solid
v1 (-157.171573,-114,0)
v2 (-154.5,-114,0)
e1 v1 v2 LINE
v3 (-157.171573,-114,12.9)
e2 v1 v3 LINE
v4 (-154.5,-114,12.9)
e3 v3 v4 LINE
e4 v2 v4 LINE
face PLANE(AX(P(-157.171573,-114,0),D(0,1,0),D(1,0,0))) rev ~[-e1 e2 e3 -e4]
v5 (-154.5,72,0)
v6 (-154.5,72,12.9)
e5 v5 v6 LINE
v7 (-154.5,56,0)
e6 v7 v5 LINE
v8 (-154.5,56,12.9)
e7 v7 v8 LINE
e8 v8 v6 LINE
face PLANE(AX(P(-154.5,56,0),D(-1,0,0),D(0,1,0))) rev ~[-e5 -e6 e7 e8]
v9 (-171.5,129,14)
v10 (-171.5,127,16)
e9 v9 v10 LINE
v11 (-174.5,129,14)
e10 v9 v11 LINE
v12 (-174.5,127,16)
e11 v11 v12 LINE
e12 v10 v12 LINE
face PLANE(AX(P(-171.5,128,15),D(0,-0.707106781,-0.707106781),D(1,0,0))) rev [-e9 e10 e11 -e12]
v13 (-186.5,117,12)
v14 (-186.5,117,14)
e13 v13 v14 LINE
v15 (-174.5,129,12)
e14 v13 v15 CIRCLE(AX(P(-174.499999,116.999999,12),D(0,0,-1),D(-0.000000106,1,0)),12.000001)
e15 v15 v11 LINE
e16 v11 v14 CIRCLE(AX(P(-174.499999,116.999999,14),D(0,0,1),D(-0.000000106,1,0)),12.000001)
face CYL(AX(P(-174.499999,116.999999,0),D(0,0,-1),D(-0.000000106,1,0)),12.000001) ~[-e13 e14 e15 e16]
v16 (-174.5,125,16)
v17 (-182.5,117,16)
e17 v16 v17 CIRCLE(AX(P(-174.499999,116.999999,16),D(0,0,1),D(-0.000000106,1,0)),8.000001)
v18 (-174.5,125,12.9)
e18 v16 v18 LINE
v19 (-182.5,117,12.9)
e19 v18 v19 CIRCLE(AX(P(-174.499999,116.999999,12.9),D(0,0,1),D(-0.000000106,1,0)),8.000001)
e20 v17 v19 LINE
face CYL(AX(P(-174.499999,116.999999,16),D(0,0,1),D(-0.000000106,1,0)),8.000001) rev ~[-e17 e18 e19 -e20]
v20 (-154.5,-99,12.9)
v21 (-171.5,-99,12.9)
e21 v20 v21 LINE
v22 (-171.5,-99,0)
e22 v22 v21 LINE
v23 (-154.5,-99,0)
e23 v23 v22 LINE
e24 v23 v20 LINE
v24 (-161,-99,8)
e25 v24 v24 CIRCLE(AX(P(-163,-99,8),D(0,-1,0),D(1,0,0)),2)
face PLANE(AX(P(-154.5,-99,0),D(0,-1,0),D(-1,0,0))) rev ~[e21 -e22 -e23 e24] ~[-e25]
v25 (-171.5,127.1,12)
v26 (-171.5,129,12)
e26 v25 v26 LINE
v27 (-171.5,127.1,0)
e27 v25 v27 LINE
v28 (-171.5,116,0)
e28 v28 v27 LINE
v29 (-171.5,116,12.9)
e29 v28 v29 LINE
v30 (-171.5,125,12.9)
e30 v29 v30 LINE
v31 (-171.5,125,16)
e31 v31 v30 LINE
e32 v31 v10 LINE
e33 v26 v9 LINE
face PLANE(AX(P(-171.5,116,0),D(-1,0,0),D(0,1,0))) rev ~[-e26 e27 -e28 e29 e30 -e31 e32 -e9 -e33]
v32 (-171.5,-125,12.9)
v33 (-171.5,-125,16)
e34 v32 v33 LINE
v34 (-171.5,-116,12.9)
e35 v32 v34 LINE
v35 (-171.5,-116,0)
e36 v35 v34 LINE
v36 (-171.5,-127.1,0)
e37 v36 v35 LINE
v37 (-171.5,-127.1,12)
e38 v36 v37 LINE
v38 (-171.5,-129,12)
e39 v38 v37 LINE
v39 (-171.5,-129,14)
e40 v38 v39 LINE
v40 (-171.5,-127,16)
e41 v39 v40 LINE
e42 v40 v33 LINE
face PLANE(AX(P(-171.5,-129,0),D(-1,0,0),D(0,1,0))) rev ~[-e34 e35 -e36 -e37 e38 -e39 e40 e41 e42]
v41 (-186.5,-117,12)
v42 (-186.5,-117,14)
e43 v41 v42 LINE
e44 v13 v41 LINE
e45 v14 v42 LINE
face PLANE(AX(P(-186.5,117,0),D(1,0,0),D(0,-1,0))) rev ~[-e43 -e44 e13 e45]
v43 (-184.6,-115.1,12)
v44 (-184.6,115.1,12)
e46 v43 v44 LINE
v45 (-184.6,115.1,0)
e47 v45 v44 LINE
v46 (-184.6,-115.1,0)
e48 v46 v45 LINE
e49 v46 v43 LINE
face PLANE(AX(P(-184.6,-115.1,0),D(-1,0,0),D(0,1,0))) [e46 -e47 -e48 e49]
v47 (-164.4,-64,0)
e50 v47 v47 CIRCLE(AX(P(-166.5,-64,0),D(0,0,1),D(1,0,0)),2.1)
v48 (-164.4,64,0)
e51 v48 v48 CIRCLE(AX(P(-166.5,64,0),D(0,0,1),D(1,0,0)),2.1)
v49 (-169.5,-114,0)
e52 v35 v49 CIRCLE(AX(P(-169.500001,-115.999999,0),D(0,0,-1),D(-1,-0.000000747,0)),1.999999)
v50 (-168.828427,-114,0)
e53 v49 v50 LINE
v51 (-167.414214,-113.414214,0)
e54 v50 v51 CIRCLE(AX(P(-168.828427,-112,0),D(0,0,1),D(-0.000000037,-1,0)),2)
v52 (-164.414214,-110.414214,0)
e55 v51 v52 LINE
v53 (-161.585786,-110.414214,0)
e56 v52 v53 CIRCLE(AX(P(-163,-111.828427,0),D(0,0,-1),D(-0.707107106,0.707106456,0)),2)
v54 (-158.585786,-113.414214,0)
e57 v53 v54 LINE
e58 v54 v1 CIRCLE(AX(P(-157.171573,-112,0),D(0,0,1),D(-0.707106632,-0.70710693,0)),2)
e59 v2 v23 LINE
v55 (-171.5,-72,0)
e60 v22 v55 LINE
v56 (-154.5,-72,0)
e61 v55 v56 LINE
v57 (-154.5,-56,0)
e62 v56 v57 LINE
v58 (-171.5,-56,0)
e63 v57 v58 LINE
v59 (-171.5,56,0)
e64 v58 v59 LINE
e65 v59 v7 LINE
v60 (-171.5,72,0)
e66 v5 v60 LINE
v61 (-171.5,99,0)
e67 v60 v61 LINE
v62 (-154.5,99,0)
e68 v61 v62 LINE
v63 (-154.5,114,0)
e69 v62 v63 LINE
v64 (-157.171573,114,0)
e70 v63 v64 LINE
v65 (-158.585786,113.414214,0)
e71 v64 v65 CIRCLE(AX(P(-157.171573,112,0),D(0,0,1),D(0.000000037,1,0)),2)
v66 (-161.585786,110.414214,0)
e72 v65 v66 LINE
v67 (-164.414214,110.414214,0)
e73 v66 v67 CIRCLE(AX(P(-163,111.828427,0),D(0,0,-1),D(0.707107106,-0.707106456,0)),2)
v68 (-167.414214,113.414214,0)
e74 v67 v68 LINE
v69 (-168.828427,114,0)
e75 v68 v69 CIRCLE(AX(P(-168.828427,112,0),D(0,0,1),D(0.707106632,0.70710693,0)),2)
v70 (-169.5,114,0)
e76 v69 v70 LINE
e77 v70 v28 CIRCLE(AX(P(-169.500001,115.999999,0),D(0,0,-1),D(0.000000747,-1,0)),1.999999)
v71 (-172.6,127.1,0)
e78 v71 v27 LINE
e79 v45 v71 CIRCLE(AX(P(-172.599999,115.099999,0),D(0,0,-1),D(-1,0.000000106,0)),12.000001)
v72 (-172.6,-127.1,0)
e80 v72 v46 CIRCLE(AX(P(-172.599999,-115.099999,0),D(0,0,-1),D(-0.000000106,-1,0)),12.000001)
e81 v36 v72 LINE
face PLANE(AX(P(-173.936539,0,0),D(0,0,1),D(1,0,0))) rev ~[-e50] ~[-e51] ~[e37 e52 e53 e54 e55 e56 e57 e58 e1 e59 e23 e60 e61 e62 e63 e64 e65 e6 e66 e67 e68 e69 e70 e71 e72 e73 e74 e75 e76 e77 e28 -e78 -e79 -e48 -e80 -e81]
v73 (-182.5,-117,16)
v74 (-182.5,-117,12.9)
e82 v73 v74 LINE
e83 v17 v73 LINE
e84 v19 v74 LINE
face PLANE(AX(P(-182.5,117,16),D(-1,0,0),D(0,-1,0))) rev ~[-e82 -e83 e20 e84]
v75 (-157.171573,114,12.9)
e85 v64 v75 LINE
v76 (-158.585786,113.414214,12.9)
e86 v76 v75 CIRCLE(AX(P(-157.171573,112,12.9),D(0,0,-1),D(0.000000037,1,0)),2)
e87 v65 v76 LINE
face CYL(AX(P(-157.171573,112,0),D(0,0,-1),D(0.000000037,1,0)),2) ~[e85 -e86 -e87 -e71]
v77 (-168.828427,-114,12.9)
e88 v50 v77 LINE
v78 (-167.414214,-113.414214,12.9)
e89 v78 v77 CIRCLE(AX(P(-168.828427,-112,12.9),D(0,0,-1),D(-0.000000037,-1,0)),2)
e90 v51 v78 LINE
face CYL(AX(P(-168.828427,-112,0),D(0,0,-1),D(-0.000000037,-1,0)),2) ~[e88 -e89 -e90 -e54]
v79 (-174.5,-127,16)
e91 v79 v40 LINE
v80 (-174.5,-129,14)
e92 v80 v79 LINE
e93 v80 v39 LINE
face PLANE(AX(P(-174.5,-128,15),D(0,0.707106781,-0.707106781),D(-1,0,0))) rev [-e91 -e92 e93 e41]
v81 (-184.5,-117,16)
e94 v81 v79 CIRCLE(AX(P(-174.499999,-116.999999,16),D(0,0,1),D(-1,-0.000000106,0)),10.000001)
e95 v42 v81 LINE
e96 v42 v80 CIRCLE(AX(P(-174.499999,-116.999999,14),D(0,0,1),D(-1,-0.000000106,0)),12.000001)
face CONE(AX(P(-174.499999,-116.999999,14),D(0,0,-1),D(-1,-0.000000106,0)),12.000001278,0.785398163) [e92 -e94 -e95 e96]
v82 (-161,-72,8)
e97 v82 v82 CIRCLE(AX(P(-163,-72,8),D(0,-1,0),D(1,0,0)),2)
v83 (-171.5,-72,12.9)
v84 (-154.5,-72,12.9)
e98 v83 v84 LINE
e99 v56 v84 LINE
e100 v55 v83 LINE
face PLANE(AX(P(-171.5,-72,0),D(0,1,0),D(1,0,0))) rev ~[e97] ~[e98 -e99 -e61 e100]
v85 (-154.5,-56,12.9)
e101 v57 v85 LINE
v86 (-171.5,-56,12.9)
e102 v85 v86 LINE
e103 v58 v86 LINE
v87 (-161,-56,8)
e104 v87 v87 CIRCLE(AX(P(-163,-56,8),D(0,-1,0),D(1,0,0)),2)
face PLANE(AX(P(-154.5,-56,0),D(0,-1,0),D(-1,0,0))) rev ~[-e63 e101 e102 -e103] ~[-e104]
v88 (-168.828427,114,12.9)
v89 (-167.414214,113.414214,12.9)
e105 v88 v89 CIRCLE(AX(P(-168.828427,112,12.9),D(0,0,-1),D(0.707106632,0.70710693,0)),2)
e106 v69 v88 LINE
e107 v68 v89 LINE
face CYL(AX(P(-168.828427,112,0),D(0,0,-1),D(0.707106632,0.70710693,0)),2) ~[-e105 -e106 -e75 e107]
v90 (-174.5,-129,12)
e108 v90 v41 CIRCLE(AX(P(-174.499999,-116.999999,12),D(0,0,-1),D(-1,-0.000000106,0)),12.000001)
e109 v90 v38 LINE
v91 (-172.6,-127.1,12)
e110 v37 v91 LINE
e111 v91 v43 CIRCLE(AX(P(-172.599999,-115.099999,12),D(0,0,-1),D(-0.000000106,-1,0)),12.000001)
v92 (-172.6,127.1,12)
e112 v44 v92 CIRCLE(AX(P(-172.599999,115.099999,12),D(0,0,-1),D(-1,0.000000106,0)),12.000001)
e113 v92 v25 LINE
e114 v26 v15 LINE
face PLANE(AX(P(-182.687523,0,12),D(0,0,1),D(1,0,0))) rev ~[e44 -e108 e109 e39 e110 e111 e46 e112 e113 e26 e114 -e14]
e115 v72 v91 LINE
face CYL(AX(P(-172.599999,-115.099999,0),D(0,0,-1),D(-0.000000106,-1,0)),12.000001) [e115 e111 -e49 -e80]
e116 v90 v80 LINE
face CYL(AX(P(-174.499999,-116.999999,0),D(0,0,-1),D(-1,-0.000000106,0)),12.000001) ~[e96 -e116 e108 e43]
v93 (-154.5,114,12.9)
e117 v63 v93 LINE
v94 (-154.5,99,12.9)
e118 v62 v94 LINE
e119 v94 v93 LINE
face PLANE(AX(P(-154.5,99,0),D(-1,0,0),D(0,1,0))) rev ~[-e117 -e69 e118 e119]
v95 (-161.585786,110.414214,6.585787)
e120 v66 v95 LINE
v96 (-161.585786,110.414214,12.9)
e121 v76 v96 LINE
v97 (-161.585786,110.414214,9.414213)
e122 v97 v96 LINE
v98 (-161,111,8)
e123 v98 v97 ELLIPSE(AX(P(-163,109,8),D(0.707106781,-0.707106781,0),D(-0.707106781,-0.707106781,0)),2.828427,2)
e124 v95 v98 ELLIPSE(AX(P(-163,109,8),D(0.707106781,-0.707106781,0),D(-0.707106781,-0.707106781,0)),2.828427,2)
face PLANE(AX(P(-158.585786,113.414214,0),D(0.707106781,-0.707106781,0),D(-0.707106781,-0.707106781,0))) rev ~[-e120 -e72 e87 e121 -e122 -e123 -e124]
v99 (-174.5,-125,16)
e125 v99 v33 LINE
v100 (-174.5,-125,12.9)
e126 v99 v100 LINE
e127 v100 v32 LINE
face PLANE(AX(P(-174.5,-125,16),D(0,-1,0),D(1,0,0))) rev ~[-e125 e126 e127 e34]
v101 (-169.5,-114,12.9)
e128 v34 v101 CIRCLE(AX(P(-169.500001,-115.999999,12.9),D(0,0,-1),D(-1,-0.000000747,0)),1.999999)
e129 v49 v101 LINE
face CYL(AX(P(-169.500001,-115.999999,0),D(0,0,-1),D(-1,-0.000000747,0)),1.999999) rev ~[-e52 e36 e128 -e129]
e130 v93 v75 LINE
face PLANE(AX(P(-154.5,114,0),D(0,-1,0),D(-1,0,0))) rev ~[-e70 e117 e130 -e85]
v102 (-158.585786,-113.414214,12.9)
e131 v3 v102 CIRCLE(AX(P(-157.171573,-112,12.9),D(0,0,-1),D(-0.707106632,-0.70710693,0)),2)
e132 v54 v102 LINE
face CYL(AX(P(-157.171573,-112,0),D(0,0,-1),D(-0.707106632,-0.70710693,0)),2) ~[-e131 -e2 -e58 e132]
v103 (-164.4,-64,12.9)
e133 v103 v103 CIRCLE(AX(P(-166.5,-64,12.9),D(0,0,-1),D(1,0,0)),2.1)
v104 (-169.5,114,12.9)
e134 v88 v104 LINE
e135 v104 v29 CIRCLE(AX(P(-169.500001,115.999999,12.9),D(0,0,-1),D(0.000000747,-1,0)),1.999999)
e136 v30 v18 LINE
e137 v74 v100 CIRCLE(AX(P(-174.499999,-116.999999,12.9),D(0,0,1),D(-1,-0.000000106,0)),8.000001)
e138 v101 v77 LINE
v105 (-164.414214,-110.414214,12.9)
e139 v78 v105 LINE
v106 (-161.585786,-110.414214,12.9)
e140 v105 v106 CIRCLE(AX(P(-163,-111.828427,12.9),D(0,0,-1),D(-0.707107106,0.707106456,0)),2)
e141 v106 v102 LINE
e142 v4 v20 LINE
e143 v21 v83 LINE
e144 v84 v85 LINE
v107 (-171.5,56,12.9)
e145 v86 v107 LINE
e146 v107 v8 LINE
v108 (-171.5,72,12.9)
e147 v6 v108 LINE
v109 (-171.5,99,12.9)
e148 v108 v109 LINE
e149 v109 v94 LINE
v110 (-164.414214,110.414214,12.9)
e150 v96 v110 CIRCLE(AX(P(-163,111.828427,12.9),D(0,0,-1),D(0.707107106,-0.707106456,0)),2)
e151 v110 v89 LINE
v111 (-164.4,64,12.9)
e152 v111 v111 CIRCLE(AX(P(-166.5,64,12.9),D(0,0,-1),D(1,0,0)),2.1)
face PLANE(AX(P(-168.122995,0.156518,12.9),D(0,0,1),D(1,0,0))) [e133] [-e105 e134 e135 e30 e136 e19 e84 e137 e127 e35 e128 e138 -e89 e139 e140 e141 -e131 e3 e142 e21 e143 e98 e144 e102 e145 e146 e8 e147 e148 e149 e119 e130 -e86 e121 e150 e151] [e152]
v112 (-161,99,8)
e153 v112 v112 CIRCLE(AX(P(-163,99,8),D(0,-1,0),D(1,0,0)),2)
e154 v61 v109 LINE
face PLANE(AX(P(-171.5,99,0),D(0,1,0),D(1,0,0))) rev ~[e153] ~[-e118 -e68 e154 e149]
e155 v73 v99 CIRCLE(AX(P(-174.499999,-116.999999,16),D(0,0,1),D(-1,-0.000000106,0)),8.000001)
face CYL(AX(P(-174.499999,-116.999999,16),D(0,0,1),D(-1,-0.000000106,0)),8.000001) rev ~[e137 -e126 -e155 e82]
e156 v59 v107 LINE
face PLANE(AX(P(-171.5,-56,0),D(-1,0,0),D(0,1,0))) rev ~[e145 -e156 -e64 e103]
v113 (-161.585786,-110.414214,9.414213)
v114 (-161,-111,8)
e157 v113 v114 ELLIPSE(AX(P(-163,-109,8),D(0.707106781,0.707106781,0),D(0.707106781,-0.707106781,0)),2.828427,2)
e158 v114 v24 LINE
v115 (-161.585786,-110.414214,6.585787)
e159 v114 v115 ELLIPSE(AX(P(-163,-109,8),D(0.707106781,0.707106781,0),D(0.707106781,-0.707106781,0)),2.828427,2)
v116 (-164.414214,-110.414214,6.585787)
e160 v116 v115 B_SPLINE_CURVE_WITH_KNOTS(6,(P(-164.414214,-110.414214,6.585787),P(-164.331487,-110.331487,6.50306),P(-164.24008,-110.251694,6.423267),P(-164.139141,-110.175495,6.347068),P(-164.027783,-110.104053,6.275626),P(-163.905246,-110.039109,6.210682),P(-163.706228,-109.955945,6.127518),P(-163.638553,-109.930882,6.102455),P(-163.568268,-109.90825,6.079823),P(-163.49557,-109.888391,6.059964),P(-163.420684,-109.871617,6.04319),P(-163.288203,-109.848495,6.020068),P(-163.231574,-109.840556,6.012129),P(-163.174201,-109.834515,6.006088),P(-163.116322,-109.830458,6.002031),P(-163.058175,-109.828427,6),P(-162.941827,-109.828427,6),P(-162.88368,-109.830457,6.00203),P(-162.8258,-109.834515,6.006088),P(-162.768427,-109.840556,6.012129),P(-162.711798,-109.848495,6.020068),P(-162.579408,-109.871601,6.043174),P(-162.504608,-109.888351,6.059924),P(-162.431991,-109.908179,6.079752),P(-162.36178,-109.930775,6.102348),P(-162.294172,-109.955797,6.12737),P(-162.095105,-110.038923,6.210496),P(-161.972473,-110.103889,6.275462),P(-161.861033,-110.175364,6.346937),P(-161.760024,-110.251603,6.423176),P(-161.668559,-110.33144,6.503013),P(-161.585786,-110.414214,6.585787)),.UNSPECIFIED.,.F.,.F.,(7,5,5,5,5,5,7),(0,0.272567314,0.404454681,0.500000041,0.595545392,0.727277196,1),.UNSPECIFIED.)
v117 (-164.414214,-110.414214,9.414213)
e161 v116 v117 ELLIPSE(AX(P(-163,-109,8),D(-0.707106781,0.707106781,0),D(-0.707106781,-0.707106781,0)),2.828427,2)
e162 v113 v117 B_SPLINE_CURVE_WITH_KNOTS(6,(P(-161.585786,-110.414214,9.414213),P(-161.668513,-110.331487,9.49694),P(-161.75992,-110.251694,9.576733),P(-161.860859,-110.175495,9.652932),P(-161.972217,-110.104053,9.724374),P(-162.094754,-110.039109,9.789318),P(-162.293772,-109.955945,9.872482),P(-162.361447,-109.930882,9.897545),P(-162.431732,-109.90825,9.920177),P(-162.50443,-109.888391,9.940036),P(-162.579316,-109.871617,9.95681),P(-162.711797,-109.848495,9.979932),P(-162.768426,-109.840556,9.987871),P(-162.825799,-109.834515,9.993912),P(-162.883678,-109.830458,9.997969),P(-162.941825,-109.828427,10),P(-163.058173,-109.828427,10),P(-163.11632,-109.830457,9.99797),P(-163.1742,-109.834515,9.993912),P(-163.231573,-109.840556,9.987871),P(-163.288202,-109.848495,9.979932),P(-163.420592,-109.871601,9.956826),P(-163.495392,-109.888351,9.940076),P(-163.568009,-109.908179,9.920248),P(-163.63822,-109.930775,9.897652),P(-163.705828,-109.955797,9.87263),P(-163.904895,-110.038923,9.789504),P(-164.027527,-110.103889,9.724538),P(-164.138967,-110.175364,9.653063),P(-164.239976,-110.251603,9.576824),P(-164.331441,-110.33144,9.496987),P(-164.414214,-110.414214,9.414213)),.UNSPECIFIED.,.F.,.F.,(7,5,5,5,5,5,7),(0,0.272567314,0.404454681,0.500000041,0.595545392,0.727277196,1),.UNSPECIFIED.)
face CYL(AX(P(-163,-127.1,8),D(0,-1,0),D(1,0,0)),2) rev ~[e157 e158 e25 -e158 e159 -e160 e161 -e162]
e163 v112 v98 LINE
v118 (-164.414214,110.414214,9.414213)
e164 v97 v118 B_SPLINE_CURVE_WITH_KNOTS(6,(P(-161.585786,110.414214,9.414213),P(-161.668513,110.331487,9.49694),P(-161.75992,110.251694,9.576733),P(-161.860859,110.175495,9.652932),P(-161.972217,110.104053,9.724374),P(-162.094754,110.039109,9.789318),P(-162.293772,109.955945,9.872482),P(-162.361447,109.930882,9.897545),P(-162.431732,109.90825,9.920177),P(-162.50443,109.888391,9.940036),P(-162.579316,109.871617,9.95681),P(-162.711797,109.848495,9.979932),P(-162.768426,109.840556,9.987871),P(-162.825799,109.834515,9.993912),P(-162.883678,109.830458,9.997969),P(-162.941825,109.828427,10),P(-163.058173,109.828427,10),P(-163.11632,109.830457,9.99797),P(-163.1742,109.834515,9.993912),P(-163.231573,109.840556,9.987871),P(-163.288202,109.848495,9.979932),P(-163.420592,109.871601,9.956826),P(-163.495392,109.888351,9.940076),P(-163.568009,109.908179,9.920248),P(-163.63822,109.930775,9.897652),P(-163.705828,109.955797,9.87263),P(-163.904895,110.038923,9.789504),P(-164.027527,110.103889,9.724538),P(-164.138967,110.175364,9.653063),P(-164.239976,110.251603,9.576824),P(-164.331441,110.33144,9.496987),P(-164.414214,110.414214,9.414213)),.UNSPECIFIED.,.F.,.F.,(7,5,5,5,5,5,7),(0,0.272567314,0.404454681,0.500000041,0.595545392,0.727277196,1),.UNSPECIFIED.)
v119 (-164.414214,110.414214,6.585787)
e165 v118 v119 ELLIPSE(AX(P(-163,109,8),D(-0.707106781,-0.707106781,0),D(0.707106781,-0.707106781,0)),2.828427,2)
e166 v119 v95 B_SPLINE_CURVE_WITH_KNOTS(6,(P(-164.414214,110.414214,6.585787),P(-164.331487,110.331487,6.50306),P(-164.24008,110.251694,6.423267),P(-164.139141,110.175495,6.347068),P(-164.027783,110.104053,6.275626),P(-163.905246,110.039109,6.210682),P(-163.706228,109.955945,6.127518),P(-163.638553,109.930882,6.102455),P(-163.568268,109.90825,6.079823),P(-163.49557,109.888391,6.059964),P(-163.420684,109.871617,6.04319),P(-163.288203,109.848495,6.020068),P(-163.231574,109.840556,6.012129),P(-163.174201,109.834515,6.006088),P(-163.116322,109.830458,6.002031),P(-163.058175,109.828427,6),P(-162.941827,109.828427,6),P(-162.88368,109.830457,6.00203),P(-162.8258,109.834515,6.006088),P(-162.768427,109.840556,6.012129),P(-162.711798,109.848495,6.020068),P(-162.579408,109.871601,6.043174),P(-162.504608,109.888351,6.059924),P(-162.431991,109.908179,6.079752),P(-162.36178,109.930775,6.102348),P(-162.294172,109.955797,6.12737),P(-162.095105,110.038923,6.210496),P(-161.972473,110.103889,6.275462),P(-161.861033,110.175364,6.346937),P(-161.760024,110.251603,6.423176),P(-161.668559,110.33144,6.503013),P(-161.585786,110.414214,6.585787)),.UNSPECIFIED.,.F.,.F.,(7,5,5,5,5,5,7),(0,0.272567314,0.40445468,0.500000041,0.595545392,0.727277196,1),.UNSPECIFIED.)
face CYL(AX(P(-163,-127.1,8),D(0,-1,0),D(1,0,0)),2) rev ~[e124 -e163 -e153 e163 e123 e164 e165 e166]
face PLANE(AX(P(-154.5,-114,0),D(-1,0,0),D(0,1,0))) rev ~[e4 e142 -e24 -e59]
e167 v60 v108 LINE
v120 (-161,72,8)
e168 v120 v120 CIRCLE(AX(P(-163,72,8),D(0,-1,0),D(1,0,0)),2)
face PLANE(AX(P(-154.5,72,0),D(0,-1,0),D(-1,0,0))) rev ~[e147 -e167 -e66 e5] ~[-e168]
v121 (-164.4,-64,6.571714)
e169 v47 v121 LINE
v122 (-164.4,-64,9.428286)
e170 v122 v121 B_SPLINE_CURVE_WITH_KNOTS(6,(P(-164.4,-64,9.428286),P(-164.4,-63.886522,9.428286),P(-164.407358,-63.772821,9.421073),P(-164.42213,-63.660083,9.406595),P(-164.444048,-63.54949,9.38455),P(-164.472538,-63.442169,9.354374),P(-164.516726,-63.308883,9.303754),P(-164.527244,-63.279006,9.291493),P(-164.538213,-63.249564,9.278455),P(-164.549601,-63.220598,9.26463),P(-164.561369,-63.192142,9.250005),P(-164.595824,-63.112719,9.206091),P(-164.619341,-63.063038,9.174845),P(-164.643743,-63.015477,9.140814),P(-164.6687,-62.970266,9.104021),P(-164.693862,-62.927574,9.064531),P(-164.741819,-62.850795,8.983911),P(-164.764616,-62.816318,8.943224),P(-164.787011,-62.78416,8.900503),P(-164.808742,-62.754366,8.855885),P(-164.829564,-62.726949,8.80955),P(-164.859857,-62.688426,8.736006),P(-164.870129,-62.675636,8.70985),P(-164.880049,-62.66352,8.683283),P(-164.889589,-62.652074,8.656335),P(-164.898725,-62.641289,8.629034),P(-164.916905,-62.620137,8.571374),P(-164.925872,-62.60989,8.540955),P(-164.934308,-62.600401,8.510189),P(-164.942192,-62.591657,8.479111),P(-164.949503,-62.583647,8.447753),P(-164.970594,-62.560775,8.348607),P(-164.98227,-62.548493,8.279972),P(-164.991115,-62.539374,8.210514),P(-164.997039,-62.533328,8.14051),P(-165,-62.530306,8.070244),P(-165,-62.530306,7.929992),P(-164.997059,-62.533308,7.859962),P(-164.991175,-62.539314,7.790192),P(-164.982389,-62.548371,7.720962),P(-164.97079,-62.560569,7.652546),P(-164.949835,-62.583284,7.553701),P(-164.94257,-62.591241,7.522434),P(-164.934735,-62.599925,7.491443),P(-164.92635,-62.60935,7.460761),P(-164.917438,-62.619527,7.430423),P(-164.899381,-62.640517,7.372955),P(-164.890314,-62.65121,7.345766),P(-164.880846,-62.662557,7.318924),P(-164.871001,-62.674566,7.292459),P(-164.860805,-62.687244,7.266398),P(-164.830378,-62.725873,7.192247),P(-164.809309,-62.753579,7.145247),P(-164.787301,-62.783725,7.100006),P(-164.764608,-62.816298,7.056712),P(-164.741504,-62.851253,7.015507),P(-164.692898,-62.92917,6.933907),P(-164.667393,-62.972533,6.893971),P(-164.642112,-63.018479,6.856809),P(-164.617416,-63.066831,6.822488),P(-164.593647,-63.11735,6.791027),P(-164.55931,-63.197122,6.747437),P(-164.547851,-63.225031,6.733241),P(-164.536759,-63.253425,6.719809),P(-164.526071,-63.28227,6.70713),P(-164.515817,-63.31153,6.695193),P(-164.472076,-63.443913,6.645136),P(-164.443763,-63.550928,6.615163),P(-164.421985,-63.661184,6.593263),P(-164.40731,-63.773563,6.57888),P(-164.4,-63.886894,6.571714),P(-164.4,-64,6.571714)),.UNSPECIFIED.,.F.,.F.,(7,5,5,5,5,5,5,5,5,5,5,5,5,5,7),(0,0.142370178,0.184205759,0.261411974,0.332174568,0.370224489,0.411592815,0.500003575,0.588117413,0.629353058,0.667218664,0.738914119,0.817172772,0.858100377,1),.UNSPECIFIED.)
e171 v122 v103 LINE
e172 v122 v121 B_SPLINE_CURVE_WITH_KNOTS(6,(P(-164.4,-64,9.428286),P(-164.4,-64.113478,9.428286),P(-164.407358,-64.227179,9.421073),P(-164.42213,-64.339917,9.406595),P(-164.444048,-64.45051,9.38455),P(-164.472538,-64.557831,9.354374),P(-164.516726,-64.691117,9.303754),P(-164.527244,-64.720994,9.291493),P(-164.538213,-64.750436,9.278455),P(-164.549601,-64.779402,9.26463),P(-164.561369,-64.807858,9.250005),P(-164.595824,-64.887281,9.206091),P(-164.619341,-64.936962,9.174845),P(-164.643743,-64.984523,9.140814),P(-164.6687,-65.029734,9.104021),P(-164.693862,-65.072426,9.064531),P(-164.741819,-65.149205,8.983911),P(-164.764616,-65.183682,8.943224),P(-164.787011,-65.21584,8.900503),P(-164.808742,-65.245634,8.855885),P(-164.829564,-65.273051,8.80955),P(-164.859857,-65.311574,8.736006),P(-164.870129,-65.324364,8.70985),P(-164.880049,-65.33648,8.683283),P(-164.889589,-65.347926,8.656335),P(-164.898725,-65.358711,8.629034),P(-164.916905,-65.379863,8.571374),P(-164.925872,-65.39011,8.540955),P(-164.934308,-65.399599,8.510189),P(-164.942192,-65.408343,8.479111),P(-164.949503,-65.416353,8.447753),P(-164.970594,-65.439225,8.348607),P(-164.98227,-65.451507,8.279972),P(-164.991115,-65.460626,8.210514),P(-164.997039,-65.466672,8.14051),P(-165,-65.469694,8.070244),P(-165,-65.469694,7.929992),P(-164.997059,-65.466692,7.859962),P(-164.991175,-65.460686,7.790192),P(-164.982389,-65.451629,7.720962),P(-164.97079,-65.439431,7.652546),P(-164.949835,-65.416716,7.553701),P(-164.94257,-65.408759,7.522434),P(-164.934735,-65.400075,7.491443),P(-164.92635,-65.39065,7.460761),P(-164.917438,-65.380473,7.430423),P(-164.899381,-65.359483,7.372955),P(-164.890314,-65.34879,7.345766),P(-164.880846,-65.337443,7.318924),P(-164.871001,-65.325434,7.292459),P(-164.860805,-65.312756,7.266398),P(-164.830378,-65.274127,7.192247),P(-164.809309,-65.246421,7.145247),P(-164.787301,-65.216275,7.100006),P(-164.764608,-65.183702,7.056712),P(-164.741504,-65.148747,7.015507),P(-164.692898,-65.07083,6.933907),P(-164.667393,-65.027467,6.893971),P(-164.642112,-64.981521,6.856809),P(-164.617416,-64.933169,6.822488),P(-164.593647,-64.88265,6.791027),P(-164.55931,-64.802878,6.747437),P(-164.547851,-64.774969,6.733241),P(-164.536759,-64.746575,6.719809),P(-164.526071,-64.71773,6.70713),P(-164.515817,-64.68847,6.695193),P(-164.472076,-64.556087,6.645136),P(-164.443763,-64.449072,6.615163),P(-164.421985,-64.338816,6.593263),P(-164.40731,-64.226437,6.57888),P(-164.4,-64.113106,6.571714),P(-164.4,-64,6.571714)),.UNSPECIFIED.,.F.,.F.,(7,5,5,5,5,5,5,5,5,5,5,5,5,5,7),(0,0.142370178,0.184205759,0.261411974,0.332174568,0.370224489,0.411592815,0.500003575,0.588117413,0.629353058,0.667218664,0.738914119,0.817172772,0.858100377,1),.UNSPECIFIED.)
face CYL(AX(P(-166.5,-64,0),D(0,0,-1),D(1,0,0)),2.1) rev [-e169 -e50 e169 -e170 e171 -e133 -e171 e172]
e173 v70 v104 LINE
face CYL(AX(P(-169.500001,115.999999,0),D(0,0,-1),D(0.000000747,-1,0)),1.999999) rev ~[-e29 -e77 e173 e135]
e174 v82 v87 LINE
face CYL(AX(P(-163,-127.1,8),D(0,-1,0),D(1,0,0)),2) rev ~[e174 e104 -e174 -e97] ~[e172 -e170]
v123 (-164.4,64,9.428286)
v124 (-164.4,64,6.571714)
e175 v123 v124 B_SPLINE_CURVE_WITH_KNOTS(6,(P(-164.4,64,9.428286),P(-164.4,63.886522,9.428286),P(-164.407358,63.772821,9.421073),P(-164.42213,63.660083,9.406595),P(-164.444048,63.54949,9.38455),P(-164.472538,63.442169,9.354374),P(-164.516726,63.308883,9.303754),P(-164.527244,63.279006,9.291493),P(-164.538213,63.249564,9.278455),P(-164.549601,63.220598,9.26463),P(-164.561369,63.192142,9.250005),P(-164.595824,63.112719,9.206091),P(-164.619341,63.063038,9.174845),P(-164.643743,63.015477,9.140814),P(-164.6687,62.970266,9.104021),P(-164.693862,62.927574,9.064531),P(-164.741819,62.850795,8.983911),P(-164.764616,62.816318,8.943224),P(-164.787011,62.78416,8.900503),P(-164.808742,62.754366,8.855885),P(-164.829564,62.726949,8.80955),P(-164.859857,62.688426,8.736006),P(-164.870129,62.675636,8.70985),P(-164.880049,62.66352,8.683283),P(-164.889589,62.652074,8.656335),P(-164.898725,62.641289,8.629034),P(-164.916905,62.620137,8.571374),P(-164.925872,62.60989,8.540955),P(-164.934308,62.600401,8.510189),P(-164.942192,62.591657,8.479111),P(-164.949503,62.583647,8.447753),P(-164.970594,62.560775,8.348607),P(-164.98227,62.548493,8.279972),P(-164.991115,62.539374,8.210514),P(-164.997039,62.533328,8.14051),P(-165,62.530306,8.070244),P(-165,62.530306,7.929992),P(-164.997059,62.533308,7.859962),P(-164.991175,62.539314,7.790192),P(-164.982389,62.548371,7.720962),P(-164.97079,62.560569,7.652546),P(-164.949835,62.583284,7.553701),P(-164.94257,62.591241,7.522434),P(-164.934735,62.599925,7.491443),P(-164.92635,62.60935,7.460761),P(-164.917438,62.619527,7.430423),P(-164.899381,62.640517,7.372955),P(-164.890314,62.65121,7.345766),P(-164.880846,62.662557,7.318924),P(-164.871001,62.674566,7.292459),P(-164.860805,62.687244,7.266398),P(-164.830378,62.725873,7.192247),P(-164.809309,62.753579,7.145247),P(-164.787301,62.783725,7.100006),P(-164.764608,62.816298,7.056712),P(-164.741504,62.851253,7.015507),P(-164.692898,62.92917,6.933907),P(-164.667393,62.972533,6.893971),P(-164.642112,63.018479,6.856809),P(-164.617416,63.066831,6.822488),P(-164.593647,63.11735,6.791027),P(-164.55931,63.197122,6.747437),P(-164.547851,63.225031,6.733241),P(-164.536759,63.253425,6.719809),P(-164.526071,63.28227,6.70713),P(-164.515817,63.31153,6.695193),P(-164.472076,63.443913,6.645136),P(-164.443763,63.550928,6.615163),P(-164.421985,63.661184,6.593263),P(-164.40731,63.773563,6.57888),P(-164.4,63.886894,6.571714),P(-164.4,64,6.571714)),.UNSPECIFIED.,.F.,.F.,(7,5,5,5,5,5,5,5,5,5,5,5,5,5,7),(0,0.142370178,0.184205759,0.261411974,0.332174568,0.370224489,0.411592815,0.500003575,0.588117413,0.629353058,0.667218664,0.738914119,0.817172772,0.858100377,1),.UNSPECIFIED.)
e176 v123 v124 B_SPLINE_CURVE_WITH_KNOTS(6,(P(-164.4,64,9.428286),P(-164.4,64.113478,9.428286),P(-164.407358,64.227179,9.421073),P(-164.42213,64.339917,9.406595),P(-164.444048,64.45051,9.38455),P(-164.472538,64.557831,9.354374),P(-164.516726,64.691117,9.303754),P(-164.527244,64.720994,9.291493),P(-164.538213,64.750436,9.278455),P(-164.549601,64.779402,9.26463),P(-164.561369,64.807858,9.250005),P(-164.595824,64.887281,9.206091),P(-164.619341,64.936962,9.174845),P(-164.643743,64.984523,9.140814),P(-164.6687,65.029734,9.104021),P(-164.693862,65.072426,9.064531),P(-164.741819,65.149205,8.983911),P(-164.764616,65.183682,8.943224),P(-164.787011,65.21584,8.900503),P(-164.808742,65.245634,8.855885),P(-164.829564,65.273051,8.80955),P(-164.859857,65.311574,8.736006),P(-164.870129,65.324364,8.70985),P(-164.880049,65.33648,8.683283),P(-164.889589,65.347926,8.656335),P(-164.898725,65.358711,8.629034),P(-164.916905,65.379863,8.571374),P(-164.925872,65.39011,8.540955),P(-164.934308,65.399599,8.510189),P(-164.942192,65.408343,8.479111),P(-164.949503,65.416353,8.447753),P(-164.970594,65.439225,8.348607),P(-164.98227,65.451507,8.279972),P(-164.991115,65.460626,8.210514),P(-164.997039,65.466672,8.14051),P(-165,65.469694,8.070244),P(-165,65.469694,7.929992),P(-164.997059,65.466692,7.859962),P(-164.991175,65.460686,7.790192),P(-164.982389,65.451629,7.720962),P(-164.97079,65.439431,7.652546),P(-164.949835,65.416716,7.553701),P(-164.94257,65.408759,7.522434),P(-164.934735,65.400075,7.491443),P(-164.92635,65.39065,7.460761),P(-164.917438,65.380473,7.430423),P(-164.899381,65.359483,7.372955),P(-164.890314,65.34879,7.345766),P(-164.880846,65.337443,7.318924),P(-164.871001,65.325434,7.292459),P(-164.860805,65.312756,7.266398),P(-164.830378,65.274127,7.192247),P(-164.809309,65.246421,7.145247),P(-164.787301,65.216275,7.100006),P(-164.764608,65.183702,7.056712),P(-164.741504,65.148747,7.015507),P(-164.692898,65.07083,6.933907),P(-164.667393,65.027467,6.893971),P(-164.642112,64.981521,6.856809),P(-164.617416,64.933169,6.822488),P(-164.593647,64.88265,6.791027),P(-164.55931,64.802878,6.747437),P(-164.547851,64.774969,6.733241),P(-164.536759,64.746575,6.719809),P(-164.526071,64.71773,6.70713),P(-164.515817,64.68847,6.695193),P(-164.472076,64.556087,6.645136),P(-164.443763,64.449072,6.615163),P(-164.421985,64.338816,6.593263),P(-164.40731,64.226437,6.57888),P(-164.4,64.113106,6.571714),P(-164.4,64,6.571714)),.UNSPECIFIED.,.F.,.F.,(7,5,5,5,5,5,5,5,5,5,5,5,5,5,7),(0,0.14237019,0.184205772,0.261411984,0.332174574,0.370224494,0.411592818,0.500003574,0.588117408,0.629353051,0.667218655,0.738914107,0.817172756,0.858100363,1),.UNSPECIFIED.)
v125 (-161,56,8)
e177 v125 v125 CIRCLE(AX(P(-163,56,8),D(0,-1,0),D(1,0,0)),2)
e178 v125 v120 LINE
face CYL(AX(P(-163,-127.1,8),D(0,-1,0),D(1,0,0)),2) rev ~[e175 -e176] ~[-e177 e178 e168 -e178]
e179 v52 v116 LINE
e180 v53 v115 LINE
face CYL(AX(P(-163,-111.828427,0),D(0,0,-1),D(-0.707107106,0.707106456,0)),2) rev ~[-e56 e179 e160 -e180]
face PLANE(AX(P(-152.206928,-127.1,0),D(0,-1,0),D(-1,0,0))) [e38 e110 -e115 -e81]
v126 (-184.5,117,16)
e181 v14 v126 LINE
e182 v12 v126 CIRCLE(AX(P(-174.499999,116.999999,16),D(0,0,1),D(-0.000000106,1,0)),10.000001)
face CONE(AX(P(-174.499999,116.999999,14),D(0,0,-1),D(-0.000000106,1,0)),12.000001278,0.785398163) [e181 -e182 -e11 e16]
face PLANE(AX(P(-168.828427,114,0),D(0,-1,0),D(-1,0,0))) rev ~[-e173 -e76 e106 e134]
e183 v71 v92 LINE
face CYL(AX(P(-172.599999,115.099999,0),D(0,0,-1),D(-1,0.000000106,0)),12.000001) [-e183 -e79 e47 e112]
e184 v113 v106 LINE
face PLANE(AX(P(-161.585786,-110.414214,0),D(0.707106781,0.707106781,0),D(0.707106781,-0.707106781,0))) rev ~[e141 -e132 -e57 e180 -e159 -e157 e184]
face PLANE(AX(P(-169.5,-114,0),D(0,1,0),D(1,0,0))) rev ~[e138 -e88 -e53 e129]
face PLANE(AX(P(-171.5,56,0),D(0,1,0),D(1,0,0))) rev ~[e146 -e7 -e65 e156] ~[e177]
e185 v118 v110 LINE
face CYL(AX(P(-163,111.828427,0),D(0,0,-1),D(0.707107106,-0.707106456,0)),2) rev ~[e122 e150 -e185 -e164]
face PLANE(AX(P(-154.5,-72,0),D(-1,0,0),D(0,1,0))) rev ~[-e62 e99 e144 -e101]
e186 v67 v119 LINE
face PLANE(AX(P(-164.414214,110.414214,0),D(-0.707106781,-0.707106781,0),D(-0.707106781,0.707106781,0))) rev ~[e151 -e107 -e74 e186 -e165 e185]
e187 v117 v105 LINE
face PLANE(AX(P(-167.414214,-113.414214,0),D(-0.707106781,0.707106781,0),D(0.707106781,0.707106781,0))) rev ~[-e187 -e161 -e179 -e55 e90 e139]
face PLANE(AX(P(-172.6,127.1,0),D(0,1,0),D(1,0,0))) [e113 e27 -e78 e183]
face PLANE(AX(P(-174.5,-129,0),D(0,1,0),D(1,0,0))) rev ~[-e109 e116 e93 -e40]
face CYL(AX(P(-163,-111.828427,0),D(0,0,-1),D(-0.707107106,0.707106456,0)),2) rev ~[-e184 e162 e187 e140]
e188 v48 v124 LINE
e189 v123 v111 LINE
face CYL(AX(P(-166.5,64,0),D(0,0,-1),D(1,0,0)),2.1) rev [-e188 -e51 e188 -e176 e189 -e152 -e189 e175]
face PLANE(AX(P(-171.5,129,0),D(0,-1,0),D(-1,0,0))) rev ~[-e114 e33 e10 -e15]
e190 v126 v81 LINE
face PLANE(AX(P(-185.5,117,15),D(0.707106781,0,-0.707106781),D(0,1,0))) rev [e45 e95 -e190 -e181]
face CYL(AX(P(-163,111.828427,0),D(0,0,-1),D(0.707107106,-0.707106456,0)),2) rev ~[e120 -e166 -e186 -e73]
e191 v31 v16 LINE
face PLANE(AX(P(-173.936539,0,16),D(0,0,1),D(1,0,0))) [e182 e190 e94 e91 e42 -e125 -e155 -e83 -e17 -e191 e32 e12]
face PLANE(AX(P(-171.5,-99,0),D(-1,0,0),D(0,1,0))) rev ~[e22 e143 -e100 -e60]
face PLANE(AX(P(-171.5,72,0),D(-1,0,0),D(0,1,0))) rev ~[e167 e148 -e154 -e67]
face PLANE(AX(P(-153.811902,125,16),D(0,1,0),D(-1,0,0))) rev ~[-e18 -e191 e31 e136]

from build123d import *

# Parameters (mm, degrees)
F0_R     = 2.1
F1_DEPTH = 16
F2_SIZE  = 2
F4_DEPTH = 3.1
F6_DEPTH = 12
F7_R     = 2
F8_DEPTH = 256.101


with BuildPart() as f1:
    # F0 (on Top) → F1 (new body)
    with BuildSketch(Plane.XY):
        with BuildLine():
            Line((-171.5, 129), (-174.5, 129))
            ThreePointArc((-174.5, 129), (-182.985281, 125.485281), (-186.5, 117))
            Line((-186.5, 117), (-186.5, -117))
            ThreePointArc((-186.5, -117), (-182.985281, -125.485281), (-174.5, -129))
            Line((-174.5, -129), (-171.5, -129))
            Line((-171.5, -129), (-171.5, -127.73274))
            Line((-171.5, -127.73274), (-171.5, -116))
            ThreePointArc((-171.5, -116), (-170.914214, -114.585786), (-169.5, -114))
            Line((-169.5, -114), (-168.828427, -114))
            ThreePointArc((-168.828427, -114), (-168.06306, -113.847759), (-167.414214, -113.414214))
            Line((-167.414214, -113.414214), (-164.414214, -110.414214))
            ThreePointArc((-164.414214, -110.414214), (-163, -109.828427), (-161.585786, -110.414214))
            Line((-161.585786, -110.414214), (-158.585786, -113.414214))
            ThreePointArc((-158.585786, -113.414214), (-157.93694, -113.847759), (-157.171573, -114))
            Line((-157.171573, -114), (-154.5, -114))
            Line((-154.5, -114), (-154.5, -99))
            Line((-154.5, -99), (-171.5, -99))
            Line((-171.5, -99), (-171.5, -72))
            Line((-171.5, -72), (-154.5, -72))
            Line((-154.5, -72), (-154.5, -56))
            Line((-154.5, -56), (-171.5, -56))
            Line((-171.5, -56), (-171.5, 56))
            Line((-171.5, 56), (-154.5, 56))
            Line((-154.5, 56), (-154.5, 72))
            Line((-154.5, 72), (-171.5, 72))
            Line((-171.5, 72), (-171.5, 99))
            Line((-171.5, 99), (-154.5, 99))
            Line((-154.5, 99), (-154.5, 114))
            Line((-154.5, 114), (-157.171573, 114))
            ThreePointArc((-157.171573, 114), (-157.93694, 113.847759), (-158.585786, 113.414214))
            Line((-158.585786, 113.414214), (-161.585786, 110.414214))
            ThreePointArc((-161.585786, 110.414214), (-163, 109.828427), (-164.414214, 110.414214))
            Line((-164.414214, 110.414214), (-167.414214, 113.414214))
            ThreePointArc((-167.414214, 113.414214), (-168.06306, 113.847759), (-168.828427, 114))
            Line((-168.828427, 114), (-169.5, 114))
            ThreePointArc((-169.5, 114), (-170.914214, 114.585786), (-171.5, 116))
            Line((-171.5, 116), (-171.5, 127.73274))
            Line((-171.5, 127.73274), (-171.5, 129))
        make_face()
        with Locations((-166.5, -64)):
            Circle(F0_R, mode=Mode.SUBTRACT)
        with Locations((-166.5, 64)):
            Circle(F0_R, mode=Mode.SUBTRACT)
    extrude(amount=F1_DEPTH)

    # F2
    f2_edges = [f1.edges().sort_by_distance(p)[0] for p in [
        (-173, -129, 16),
    ]]
    chamfer(f2_edges, length=F2_SIZE)

    # F3 (on face) → F4 (cut)
    with BuildSketch(Plane.XY.offset(16)):
        with BuildLine():
            ThreePointArc((-174.5, 125), (-180.156854, 122.656854), (-182.5, 117))
            Line((-182.5, 117), (-182.5, -117))
            ThreePointArc((-182.5, -117), (-180.156854, -122.656854), (-174.5, -125))
            Line((-174.5, -125), (-154.5, -125))
            Line((-154.5, -125), (-153.811902, 125))
            Line((-153.811902, 125), (-174.5, 125))
        make_face()
    extrude(amount=-F4_DEPTH, mode=Mode.SUBTRACT)

    # F5 (on face) → F6 (cut)
    with BuildSketch(Plane.XY):
        with BuildLine():
            ThreePointArc((-184.6, 115.1), (-181.085281, 123.585281), (-172.6, 127.1))
            Line((-172.6, 127.1), (-152.206928, 127.1))
            Line((-152.206928, 127.1), (-152.206928, 132.1))
            Line((-152.206928, 132.1), (-172.6, 132.1))
            ThreePointArc((-172.6, 132.1), (-184.620815, 127.120815), (-189.6, 115.1))
            Line((-189.6, 115.1), (-189.6, -115.1))
            ThreePointArc((-189.6, -115.1), (-184.620815, -127.120815), (-172.6, -132.1))
            Line((-172.6, -132.1), (-152.206928, -132.1))
            Line((-152.206928, -132.1), (-152.206928, -127.1))
            Line((-152.206928, -127.1), (-172.6, -127.1))
            ThreePointArc((-172.6, -127.1), (-181.085281, -123.585281), (-184.6, -115.1))
            Line((-184.6, -115.1), (-184.6, 115.1))
        make_face()
    extrude(amount=F6_DEPTH, mode=Mode.SUBTRACT)

    # F7 (on face) → F8 (cut, through all)
    with BuildSketch(Plane.XZ.offset(127.1)):
        with Locations((-163, 8)):
            Circle(F7_R)
        with Locations((163, 8)):
            Circle(F7_R)
    extrude(amount=-F8_DEPTH, mode=Mode.SUBTRACT)


solid = f1.part
